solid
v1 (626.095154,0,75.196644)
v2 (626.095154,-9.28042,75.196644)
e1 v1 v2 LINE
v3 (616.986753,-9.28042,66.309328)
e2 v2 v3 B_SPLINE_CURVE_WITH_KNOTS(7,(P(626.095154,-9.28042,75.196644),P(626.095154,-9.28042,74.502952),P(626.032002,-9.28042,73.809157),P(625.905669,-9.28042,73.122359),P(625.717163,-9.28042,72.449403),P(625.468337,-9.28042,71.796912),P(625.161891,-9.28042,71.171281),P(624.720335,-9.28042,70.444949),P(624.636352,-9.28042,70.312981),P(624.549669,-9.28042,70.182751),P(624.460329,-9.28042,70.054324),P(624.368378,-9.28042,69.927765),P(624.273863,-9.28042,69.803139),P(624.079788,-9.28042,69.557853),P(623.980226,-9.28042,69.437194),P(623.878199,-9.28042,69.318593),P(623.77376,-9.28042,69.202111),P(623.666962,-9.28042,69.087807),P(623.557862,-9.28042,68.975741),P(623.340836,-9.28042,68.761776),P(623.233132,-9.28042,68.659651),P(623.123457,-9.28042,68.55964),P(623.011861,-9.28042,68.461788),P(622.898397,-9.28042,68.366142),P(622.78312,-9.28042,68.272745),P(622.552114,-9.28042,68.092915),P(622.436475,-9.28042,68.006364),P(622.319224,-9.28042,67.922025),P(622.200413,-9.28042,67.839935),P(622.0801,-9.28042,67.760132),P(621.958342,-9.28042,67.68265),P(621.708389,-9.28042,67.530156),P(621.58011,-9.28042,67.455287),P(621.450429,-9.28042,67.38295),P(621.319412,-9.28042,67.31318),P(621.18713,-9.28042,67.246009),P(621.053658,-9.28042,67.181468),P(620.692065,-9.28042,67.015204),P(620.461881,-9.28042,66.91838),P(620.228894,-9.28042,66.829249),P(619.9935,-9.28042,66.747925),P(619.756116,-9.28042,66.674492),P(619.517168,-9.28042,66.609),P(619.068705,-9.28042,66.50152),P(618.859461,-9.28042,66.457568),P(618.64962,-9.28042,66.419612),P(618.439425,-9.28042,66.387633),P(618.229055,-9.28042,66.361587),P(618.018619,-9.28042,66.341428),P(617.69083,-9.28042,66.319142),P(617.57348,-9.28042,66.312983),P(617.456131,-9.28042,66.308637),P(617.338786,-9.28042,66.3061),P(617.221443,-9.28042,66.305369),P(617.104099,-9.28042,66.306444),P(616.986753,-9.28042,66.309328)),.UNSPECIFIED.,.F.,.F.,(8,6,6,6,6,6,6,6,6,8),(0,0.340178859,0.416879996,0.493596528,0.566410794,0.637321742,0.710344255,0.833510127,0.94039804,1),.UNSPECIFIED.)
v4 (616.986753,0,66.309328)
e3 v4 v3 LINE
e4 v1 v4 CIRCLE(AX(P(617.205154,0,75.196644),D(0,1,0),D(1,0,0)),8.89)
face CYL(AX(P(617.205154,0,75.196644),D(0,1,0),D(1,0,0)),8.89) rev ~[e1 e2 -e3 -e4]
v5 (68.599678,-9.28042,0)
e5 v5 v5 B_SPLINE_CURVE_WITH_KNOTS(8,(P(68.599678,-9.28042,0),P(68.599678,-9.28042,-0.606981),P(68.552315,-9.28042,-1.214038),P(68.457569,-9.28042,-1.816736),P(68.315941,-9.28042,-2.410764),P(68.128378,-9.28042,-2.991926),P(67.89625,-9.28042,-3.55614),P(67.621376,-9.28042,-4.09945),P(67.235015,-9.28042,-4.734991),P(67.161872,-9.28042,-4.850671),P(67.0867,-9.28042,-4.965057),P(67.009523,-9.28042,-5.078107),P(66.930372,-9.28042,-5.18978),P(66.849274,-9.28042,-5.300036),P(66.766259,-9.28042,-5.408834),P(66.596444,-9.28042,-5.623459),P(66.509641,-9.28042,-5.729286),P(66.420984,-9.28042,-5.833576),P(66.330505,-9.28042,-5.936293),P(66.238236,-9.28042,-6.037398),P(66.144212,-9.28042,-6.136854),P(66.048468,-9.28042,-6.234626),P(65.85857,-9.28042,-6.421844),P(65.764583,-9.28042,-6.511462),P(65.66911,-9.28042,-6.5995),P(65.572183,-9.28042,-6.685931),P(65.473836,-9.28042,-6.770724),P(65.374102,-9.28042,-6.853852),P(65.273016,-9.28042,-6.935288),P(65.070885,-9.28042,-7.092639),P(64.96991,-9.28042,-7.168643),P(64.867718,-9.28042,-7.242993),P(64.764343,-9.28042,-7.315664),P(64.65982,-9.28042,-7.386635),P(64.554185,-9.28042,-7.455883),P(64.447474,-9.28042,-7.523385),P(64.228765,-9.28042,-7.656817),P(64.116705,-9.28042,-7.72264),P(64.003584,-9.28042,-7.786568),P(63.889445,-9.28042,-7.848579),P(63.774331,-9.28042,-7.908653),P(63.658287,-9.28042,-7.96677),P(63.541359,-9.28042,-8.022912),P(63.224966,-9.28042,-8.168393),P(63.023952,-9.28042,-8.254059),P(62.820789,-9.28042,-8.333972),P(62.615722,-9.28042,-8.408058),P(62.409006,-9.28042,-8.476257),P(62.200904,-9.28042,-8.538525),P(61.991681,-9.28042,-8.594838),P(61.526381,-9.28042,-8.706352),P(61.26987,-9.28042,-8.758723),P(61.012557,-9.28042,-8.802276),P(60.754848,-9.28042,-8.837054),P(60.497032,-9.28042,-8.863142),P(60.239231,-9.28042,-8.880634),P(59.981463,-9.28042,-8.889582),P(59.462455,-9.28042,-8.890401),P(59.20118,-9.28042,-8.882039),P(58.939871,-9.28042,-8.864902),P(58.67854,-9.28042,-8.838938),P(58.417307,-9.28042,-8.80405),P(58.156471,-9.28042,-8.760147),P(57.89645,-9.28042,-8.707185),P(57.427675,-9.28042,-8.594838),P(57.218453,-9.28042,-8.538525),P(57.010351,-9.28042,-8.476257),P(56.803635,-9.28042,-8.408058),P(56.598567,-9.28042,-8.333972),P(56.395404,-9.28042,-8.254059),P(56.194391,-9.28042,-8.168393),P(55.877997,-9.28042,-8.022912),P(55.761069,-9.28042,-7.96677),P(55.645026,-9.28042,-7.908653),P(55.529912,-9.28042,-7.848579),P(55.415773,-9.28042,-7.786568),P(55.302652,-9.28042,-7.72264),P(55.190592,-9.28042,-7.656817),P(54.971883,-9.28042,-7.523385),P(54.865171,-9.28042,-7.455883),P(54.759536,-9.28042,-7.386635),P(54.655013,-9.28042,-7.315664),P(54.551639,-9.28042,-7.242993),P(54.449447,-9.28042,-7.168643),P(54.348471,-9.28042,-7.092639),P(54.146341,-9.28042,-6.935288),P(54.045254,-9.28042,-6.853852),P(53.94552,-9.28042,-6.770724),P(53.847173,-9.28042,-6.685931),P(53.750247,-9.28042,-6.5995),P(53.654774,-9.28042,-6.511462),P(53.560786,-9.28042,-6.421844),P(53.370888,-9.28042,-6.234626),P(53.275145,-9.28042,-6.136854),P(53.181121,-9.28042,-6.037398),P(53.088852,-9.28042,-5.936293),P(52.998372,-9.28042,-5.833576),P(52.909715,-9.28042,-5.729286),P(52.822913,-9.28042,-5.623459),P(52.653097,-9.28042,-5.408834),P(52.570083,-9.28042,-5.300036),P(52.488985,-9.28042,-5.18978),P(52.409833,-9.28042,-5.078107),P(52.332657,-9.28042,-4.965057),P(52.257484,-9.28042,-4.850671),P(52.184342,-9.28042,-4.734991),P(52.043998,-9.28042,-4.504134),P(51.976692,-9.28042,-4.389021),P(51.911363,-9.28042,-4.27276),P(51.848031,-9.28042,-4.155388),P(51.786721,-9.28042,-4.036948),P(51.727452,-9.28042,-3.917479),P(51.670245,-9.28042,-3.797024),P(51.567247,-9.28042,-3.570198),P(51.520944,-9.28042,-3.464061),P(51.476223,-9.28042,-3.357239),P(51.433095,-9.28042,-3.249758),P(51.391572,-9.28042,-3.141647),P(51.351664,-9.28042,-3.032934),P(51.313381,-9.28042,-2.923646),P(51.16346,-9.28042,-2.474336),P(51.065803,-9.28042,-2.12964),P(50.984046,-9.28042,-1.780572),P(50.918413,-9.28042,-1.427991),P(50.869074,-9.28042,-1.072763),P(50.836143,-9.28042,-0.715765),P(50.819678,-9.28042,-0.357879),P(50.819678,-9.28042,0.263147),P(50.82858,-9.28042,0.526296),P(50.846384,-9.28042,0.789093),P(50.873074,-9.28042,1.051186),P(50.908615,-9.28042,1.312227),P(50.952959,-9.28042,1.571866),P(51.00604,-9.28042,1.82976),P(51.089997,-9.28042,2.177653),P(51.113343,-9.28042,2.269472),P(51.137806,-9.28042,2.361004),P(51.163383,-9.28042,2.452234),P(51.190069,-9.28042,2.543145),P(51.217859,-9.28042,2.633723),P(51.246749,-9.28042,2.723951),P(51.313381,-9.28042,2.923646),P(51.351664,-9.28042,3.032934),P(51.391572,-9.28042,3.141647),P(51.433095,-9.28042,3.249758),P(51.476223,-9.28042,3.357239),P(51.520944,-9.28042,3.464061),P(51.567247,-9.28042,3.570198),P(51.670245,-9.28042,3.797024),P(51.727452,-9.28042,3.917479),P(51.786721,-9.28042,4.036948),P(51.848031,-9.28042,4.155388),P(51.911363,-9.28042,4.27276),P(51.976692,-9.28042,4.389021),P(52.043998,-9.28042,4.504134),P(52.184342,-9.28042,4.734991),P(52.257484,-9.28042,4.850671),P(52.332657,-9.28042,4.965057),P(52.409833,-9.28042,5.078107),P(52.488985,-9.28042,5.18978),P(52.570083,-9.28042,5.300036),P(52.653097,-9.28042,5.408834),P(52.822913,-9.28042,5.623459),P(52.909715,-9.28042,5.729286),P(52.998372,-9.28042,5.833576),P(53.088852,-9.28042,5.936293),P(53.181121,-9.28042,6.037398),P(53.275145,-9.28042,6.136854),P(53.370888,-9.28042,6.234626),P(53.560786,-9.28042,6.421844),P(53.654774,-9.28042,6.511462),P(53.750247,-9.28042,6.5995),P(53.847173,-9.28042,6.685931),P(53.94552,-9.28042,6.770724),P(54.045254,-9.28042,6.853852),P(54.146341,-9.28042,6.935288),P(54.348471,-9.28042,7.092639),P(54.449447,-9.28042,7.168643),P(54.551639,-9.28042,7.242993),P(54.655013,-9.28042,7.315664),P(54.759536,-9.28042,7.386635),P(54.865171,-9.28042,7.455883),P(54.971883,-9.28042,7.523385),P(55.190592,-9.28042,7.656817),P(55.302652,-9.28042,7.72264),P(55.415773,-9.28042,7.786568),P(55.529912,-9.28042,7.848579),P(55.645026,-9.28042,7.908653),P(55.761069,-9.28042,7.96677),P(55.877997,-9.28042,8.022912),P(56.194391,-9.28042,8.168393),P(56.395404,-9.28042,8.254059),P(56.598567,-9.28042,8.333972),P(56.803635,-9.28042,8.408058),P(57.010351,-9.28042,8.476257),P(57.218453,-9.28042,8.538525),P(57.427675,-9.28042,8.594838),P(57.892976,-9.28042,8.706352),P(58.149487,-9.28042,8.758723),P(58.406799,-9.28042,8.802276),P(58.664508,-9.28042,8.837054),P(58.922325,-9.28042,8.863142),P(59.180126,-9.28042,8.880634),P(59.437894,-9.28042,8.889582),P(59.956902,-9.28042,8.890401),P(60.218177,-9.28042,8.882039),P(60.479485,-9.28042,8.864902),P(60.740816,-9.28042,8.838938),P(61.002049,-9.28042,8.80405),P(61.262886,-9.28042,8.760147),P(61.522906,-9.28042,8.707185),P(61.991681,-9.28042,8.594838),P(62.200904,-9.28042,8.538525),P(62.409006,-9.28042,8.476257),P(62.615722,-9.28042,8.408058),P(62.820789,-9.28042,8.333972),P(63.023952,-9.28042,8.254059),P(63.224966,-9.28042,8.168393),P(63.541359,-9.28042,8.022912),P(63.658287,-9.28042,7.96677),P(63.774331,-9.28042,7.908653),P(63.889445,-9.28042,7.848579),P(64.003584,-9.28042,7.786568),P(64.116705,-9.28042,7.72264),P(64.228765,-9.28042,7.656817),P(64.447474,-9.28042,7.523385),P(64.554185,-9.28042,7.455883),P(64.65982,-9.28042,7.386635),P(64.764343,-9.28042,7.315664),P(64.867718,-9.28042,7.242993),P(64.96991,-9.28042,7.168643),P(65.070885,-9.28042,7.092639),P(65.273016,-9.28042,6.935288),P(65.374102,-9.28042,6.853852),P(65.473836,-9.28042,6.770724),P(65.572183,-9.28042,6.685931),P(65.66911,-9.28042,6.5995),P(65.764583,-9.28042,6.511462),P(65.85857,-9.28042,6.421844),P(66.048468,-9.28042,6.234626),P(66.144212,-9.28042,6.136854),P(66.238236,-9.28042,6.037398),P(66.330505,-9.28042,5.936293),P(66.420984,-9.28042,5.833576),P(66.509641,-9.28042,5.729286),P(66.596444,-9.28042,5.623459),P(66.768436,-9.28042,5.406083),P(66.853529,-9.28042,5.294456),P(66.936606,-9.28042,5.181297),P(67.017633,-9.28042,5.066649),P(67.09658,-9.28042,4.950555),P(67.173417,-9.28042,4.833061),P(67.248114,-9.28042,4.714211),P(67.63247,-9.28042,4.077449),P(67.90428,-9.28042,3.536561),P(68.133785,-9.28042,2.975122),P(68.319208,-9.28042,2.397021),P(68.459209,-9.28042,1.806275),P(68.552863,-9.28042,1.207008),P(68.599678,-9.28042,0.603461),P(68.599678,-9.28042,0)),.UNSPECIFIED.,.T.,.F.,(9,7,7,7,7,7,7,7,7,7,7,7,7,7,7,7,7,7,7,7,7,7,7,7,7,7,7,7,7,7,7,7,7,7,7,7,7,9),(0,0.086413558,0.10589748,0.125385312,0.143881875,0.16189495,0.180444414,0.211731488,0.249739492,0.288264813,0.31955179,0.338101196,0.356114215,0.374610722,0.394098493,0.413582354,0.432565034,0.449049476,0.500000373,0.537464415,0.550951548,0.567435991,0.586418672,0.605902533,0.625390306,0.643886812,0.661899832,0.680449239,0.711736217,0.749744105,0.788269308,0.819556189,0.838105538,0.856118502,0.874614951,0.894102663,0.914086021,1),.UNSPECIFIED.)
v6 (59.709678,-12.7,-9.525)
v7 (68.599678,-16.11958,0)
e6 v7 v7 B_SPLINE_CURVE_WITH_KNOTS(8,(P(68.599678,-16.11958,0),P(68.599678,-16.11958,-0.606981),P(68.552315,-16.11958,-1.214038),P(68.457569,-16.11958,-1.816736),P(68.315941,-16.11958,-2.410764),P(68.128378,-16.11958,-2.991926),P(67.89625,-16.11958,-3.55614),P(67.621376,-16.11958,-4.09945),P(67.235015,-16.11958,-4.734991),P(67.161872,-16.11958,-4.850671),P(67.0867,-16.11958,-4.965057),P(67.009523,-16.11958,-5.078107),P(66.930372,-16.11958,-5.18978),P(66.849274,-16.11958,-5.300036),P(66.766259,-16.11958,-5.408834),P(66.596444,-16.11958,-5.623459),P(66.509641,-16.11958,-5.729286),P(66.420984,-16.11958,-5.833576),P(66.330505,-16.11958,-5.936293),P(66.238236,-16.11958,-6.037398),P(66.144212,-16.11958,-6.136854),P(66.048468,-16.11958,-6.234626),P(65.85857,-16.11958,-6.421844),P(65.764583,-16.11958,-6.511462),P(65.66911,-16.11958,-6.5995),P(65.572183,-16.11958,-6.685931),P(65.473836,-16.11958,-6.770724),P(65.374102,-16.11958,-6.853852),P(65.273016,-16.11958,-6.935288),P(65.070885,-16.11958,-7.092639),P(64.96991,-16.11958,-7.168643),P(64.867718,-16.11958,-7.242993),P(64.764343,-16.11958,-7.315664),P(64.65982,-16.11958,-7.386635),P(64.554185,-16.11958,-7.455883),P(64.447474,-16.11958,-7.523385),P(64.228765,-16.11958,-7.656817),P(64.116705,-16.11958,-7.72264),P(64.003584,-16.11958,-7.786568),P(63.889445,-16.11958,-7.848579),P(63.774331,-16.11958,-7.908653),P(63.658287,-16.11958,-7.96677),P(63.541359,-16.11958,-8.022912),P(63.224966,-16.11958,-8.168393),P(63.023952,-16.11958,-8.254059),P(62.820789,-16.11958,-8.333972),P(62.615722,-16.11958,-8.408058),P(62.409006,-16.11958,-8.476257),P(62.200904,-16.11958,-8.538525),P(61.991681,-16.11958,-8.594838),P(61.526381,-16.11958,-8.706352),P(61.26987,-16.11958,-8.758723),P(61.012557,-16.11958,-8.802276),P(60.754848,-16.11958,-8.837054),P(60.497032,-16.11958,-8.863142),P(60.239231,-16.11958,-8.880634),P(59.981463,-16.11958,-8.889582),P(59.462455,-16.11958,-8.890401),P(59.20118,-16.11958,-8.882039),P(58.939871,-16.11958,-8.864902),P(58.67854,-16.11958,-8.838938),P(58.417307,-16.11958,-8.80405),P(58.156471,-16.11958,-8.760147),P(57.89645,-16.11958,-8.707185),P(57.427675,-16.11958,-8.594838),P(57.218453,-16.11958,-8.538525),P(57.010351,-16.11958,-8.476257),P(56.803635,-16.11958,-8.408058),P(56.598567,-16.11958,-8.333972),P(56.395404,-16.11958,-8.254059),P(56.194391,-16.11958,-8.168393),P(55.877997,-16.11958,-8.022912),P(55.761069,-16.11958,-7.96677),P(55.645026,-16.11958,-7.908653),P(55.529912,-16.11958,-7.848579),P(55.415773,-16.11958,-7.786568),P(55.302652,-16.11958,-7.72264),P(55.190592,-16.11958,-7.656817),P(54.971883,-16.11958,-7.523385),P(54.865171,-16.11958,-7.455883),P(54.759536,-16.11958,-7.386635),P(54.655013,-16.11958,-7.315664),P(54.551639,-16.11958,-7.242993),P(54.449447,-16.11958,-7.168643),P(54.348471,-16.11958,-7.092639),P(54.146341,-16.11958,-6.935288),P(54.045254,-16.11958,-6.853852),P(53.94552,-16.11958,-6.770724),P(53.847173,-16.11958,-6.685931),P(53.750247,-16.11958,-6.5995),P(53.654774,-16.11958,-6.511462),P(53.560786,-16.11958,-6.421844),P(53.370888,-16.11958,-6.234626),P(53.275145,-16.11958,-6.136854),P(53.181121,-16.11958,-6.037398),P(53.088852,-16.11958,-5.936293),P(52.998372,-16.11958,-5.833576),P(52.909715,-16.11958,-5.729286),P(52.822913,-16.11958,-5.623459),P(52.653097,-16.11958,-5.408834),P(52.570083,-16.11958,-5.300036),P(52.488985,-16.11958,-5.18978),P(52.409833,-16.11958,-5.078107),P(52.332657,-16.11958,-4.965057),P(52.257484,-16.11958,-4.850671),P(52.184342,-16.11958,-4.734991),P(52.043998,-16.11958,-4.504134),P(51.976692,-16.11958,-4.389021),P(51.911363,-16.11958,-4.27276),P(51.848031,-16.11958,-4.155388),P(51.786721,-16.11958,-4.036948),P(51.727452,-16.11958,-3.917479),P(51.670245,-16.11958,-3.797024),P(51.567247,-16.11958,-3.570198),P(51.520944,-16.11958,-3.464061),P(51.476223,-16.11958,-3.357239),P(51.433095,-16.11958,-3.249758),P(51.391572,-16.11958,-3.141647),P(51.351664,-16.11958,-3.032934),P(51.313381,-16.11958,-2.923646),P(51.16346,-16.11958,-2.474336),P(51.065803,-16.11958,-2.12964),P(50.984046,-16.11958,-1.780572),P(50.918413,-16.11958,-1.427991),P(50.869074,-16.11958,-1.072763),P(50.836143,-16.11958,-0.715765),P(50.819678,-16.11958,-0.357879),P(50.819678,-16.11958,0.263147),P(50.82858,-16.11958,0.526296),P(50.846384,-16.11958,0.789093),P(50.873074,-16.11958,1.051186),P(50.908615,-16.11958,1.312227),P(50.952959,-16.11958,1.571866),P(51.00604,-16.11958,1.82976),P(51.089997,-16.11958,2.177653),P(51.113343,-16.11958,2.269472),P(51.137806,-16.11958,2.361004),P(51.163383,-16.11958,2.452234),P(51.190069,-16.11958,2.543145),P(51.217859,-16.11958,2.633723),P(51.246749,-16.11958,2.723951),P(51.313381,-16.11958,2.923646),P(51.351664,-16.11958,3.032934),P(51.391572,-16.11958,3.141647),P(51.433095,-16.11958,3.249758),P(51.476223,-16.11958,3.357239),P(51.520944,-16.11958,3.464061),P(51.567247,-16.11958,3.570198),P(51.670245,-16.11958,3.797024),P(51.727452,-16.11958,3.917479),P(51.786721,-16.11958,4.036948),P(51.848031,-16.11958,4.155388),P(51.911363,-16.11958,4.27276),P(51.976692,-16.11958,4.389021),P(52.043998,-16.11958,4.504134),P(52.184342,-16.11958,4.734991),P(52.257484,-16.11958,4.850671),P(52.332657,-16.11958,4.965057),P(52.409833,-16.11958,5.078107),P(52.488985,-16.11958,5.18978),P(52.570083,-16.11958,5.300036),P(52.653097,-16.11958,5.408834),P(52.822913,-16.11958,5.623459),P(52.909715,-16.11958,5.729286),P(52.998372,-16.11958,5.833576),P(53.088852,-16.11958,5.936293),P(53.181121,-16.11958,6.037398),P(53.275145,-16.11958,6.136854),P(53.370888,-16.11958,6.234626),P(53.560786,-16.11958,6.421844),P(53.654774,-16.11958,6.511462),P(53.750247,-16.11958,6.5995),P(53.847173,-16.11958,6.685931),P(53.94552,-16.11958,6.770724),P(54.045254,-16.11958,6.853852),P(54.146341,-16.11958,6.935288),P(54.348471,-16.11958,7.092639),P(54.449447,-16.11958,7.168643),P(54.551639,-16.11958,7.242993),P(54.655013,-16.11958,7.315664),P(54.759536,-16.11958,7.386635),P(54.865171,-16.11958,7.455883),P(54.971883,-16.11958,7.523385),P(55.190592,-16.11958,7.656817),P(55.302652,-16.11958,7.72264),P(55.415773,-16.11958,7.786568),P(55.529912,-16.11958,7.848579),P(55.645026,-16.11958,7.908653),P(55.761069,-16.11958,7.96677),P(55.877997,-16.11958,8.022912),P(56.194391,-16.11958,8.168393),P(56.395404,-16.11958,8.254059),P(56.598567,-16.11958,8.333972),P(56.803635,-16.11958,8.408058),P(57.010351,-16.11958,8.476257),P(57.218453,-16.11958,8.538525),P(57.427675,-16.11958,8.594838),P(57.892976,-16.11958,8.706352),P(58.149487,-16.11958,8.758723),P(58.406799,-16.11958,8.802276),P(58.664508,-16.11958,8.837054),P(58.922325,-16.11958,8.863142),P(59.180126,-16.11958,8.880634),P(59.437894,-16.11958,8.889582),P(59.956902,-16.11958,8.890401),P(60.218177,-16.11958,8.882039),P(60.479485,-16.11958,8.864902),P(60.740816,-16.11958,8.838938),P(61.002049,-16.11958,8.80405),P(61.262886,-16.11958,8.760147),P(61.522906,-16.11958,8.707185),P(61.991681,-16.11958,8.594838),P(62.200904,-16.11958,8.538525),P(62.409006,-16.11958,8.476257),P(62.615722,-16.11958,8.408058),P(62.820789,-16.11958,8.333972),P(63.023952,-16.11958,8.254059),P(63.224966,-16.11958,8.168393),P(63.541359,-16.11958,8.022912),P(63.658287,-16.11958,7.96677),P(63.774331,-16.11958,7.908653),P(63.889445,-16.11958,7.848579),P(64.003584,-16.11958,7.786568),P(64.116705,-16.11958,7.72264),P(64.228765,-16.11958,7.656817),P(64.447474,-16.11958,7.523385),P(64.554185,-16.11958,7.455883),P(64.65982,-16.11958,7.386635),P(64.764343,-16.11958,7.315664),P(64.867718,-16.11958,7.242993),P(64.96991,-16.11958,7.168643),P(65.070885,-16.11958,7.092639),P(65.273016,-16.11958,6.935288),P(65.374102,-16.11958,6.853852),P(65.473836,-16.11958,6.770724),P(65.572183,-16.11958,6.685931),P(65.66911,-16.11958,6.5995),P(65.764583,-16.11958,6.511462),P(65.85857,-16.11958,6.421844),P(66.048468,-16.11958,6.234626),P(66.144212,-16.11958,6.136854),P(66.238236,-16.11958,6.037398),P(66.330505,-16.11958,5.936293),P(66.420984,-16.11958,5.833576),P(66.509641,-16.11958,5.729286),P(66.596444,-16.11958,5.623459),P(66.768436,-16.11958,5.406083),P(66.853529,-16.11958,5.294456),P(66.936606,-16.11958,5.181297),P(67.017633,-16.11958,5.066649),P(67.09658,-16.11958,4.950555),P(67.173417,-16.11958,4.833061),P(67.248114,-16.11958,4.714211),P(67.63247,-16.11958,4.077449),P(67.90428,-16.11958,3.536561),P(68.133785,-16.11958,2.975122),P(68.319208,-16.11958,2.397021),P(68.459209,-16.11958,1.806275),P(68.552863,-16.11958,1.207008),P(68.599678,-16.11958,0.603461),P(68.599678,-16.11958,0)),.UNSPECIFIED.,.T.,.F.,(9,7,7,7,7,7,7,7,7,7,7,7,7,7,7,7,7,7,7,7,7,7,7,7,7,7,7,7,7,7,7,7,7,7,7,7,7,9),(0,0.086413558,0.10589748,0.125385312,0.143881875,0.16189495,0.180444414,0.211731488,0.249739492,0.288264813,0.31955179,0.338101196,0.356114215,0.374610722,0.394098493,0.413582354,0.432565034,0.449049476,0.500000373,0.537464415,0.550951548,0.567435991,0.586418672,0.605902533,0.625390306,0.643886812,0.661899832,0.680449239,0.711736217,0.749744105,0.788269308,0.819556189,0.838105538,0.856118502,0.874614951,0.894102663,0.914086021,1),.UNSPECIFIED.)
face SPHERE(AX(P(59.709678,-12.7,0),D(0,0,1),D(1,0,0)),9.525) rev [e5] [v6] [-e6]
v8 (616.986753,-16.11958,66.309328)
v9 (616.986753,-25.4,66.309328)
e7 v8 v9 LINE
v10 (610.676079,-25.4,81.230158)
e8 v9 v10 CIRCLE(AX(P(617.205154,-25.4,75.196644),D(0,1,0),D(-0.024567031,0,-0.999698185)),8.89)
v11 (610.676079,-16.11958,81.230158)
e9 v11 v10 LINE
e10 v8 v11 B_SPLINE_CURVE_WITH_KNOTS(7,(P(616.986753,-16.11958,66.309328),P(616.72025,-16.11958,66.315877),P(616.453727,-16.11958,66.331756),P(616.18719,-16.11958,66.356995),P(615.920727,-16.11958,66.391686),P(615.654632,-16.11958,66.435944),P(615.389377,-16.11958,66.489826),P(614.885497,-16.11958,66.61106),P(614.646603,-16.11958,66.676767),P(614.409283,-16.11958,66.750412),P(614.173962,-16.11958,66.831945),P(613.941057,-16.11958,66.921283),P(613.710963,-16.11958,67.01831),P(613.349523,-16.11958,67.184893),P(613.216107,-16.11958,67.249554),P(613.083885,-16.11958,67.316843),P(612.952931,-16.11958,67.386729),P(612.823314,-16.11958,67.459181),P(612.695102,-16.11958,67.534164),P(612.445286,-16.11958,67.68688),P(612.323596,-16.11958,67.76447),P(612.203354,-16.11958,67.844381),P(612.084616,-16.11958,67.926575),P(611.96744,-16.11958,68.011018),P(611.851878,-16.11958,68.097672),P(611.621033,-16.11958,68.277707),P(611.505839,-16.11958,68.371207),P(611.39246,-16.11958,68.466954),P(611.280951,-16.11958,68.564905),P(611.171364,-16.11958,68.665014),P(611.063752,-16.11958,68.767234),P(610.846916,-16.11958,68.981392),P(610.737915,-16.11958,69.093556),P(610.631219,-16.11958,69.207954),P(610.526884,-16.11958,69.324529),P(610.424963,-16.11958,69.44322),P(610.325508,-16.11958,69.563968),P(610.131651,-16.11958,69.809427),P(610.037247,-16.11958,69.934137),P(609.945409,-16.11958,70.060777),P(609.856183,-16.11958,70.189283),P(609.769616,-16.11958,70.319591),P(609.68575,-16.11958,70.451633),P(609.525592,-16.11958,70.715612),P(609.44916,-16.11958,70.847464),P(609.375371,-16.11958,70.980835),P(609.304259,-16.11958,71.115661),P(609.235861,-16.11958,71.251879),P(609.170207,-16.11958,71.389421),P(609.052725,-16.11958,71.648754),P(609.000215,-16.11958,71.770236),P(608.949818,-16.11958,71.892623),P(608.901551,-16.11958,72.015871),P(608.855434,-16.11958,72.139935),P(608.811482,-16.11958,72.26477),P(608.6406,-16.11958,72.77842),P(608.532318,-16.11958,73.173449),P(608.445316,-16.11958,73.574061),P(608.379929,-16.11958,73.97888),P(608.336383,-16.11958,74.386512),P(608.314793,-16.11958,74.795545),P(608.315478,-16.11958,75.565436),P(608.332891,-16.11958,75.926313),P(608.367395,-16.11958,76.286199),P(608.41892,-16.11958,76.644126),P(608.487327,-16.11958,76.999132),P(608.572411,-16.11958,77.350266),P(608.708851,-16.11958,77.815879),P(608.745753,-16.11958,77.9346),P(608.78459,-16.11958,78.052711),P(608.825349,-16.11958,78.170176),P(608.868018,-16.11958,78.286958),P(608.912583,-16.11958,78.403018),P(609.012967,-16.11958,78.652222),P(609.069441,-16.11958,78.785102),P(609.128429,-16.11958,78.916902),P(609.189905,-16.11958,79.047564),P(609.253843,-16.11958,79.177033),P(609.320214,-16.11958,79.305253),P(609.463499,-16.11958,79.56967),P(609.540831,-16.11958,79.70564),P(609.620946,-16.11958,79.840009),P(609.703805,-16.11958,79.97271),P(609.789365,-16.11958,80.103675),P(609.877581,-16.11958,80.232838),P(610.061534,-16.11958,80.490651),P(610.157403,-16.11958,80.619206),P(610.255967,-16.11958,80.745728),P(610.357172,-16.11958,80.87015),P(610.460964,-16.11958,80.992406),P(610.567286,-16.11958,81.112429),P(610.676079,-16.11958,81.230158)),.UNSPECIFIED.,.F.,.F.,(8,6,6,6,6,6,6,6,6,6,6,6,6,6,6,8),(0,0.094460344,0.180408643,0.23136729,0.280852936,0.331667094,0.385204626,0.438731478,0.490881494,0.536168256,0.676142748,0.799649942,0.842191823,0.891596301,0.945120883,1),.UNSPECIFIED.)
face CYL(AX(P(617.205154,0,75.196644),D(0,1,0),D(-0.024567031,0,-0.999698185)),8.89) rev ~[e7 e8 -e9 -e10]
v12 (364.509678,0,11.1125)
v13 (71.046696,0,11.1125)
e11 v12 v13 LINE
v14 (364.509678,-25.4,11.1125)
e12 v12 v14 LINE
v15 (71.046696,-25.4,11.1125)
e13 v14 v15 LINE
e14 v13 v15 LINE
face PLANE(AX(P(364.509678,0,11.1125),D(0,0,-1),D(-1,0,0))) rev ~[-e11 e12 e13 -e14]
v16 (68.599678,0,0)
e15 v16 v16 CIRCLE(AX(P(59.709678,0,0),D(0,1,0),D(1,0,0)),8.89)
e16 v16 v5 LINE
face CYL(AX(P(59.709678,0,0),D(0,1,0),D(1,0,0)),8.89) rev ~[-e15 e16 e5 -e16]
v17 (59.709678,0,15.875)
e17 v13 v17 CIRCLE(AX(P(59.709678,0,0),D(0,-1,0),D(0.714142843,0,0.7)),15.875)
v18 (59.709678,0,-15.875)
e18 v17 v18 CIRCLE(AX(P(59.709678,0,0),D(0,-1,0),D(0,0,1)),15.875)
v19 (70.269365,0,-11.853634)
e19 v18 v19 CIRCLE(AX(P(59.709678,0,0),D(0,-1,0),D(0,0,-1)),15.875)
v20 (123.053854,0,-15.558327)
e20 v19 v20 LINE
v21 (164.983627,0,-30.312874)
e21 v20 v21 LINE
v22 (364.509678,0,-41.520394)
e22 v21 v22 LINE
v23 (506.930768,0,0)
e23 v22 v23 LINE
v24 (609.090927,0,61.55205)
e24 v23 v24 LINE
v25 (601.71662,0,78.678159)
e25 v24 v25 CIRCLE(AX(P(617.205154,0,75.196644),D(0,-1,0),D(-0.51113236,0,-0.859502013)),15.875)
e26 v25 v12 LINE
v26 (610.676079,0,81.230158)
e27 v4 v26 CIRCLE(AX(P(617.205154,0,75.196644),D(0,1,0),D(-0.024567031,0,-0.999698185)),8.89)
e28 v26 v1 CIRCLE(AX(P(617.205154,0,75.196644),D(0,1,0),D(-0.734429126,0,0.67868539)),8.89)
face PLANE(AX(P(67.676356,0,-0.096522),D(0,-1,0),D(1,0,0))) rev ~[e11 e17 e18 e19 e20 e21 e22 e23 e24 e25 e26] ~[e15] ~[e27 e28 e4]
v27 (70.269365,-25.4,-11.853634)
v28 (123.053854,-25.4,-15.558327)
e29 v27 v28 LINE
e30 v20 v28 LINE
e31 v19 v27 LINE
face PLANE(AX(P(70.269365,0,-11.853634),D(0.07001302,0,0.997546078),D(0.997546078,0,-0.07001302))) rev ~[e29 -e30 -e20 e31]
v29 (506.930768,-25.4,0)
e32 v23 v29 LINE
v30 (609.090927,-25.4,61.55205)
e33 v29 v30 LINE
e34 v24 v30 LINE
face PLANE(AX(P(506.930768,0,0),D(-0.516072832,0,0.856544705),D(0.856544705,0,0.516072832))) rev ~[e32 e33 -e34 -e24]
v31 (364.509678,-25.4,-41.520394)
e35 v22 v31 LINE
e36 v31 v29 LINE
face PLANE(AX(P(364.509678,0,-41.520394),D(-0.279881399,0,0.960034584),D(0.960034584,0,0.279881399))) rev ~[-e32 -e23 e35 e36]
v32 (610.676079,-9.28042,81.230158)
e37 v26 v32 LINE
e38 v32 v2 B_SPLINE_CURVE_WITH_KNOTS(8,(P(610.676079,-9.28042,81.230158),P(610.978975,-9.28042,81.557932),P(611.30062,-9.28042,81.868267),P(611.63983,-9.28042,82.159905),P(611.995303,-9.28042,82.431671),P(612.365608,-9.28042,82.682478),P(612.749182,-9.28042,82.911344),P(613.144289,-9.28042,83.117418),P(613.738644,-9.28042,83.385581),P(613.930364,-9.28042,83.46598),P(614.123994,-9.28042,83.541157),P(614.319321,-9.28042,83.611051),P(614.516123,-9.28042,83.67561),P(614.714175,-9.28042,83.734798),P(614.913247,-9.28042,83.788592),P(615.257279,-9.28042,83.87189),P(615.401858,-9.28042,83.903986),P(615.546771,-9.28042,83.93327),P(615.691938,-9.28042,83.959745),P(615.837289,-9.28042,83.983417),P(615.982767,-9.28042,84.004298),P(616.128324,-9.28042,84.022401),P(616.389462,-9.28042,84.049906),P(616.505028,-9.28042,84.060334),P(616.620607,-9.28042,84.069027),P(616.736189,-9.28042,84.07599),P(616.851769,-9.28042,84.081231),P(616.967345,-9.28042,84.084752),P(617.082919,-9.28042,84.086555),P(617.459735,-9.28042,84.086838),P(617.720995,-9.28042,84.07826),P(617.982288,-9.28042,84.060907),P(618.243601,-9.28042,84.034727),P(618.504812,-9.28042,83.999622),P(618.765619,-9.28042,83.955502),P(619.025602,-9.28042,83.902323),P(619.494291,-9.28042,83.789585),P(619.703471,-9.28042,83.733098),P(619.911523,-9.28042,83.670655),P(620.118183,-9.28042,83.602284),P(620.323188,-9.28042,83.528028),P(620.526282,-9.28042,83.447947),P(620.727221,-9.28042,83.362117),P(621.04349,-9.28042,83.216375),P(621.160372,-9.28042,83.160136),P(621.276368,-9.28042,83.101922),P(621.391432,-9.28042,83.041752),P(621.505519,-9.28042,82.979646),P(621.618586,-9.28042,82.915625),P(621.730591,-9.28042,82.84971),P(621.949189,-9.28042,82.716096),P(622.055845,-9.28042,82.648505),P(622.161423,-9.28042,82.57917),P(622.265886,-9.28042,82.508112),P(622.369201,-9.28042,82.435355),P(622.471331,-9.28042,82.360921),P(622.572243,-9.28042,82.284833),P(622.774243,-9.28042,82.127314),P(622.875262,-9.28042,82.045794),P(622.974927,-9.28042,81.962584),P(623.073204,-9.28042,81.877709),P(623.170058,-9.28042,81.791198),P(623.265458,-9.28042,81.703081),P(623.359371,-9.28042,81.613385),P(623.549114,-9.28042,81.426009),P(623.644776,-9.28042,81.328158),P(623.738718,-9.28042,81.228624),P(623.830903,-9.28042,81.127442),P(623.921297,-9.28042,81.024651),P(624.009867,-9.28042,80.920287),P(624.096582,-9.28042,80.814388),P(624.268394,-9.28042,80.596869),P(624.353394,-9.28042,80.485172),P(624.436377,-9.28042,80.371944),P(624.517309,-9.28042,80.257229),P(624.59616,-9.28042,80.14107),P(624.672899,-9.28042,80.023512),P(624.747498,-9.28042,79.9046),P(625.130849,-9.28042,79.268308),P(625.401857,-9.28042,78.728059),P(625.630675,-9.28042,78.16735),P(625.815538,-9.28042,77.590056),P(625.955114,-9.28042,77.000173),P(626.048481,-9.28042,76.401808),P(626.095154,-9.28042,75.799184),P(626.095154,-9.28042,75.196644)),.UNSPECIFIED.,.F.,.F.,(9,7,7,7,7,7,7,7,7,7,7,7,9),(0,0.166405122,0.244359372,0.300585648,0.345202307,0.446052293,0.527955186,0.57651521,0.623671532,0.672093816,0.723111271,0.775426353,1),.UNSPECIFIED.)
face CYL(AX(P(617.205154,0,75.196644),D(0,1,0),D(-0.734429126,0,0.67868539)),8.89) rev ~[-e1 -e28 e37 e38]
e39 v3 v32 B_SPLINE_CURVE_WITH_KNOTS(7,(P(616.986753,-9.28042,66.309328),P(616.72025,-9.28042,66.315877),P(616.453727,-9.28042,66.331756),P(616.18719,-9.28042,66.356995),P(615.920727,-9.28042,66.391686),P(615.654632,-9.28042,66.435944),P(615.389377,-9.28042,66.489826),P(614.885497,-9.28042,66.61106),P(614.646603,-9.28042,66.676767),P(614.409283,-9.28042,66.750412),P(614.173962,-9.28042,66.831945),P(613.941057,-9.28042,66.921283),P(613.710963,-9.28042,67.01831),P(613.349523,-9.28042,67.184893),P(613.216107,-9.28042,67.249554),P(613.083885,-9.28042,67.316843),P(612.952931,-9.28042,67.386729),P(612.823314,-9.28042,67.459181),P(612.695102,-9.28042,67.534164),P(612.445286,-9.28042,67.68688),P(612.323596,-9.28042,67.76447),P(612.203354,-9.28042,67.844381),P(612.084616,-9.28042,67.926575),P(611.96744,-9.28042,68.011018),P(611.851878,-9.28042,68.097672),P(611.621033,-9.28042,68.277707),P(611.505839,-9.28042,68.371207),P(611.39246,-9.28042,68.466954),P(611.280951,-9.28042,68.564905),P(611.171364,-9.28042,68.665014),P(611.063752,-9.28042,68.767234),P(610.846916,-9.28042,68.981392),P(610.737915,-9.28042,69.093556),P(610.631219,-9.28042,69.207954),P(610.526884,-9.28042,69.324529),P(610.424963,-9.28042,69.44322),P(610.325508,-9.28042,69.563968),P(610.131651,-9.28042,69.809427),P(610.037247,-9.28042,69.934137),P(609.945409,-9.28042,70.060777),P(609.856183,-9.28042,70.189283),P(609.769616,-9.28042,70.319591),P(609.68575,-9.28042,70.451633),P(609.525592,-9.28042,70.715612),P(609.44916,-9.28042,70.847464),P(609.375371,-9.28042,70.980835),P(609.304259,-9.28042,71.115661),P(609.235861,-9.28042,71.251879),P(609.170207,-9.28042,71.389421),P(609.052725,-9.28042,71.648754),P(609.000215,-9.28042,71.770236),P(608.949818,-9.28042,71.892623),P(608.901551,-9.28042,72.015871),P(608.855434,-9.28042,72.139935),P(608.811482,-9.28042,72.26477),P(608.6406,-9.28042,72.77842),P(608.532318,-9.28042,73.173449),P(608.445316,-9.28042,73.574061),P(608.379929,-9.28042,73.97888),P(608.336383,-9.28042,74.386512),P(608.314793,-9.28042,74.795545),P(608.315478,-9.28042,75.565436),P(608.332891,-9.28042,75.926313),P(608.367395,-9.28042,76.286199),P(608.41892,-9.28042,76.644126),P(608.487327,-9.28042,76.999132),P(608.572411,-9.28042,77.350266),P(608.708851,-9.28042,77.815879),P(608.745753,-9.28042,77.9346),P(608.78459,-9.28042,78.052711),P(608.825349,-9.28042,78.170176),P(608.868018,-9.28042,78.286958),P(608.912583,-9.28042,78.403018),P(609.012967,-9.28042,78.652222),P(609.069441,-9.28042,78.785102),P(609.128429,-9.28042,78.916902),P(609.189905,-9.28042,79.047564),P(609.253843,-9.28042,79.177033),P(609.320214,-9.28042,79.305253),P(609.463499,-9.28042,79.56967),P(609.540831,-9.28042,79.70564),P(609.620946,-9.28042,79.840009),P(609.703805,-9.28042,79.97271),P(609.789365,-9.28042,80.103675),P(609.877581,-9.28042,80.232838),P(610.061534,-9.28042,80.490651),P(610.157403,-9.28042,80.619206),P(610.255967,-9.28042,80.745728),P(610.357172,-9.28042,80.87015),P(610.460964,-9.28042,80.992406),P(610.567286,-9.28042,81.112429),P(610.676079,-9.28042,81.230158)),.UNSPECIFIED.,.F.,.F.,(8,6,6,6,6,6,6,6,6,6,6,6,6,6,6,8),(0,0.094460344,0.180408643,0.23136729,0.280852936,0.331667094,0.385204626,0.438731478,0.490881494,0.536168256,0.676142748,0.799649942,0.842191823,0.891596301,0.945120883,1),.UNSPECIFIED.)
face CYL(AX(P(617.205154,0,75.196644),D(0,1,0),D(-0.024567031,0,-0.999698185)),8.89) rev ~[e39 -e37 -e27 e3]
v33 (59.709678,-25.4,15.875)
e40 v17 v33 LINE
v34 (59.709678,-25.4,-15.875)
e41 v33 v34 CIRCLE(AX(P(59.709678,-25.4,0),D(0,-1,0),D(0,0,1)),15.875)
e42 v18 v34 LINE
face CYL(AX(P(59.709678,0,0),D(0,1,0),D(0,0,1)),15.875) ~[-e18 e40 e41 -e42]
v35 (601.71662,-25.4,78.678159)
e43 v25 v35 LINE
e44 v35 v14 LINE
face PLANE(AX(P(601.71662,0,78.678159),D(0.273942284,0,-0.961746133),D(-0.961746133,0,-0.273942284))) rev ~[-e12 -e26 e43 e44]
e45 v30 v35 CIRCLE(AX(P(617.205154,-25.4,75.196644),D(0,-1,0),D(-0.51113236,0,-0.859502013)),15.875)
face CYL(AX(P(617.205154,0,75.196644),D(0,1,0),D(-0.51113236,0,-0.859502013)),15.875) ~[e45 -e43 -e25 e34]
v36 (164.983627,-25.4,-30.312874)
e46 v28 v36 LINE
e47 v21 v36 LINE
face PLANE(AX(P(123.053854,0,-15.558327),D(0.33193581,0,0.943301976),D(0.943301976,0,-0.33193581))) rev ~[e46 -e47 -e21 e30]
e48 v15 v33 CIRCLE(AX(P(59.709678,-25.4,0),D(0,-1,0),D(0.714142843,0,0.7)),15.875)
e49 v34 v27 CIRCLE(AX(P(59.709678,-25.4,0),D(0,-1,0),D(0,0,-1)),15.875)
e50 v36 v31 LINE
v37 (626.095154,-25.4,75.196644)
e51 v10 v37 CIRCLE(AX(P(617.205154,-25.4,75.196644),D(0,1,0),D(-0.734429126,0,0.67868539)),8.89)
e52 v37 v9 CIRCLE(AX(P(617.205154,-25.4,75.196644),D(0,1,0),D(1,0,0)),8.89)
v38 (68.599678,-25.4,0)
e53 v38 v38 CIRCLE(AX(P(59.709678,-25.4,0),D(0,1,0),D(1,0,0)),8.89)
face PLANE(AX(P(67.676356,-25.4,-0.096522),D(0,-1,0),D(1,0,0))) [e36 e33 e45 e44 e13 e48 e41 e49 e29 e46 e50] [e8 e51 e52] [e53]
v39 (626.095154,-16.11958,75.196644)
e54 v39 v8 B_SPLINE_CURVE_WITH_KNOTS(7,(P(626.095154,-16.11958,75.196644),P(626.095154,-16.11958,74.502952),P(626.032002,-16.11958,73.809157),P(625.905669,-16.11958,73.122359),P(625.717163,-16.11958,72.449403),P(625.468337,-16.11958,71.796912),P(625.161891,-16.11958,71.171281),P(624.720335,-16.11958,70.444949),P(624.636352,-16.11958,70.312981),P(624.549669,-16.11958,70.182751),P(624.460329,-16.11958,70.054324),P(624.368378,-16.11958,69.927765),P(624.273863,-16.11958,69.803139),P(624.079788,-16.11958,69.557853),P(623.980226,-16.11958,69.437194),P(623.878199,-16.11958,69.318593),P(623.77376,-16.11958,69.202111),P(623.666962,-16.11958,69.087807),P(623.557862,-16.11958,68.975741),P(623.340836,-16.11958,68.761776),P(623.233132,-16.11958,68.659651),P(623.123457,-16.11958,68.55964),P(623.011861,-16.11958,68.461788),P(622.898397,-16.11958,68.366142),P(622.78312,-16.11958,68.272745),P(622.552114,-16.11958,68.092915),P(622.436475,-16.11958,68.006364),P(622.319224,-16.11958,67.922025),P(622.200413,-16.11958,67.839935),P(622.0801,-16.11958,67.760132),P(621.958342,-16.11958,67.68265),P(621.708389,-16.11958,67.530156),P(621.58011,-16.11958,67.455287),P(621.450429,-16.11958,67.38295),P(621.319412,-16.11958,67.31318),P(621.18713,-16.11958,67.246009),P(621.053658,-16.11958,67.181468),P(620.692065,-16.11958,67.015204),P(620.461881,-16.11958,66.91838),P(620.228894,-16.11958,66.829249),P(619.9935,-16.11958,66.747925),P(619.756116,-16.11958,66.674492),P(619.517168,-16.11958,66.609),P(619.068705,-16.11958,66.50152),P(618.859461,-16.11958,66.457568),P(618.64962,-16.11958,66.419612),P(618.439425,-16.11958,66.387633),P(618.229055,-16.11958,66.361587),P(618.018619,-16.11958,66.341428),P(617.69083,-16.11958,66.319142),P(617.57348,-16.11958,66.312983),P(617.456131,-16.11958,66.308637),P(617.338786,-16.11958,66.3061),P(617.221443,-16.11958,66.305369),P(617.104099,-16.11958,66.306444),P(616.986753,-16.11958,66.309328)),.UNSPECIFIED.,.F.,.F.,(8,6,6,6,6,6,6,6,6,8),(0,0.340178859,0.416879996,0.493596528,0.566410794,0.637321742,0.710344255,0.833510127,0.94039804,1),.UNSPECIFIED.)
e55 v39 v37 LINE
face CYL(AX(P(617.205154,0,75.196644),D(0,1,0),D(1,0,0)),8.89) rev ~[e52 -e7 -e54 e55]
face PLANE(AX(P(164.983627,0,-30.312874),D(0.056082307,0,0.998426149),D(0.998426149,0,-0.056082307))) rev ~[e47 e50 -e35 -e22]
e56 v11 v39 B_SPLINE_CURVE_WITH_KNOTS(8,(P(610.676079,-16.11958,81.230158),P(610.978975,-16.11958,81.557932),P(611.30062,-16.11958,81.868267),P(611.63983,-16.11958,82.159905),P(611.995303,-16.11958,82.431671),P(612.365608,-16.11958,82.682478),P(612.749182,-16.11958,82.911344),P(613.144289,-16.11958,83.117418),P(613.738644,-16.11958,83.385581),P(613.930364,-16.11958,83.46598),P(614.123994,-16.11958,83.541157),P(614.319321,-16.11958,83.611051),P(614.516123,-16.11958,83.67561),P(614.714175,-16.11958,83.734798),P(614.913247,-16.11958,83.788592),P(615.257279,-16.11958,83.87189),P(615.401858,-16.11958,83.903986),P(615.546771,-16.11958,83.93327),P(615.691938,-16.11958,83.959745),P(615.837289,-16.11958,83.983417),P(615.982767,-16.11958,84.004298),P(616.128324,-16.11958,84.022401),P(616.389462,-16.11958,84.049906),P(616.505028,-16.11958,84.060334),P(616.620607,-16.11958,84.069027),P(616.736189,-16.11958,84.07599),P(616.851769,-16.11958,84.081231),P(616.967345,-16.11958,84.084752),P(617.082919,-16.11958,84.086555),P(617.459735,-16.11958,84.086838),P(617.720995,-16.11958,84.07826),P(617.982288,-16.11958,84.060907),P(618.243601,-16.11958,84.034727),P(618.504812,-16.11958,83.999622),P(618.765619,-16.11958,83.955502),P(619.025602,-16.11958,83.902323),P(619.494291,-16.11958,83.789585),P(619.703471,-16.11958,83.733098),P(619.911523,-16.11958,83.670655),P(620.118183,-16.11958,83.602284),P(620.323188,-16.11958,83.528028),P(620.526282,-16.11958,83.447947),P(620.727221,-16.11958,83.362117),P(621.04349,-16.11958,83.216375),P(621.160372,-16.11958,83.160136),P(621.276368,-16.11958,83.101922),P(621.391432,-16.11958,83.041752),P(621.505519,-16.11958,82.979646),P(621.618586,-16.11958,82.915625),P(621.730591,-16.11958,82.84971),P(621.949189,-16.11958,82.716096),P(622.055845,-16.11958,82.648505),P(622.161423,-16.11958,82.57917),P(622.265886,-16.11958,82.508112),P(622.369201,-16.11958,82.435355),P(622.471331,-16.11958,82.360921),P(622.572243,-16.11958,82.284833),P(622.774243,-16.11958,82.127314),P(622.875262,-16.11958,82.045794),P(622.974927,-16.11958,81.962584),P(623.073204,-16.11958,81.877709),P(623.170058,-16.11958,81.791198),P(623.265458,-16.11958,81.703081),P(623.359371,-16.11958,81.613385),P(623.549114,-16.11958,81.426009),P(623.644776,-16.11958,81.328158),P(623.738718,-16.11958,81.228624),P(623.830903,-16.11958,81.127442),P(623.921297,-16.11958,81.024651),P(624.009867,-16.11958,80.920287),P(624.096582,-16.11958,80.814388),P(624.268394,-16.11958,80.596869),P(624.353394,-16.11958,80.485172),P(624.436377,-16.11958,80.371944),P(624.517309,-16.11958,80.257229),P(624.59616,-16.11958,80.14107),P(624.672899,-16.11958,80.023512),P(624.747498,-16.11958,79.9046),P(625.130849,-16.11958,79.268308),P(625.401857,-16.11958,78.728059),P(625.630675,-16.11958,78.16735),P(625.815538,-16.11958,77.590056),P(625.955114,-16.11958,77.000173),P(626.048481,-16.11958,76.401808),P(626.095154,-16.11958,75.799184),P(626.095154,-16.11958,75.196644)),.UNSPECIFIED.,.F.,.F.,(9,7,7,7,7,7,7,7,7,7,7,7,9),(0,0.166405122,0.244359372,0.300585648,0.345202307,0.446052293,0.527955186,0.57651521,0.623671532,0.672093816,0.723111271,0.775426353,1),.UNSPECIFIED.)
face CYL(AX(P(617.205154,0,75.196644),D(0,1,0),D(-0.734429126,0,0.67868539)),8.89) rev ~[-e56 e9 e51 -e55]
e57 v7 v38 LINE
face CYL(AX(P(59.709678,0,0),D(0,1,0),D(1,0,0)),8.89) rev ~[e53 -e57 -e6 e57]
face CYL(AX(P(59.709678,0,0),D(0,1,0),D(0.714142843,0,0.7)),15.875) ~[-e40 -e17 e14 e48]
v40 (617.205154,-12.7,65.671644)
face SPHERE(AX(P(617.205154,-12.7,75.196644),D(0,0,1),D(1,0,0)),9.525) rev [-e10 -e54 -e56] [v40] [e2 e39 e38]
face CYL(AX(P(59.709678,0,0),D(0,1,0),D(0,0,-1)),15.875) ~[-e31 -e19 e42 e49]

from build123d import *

# Parameters (mm, degrees)
F1_DEPTH = 25.4


with BuildPart() as f1:
    # F0 (on Front) → F1 (new body)
    with BuildSketch(Plane.XZ):
        with BuildLine():
            ThreePointArc((75.5846782372, 0), (74.4064598557, 6.0016860181), (71.0466958676, 11.1125))
            Line((71.0466958676, 11.1125), (59.7096782372, 11.1125))
            Line((59.7096782372, 11.1125), (59.7096782372, 8.89))
            ThreePointArc((59.7096782372, 8.89), (65.995857522, 6.2861792847), (68.5996782372, 0))
            ThreePointArc((68.5996782372, 0), (65.995857522, -6.2861792847), (59.7096782372, -8.89))
            Line((59.7096782372, -8.89), (59.7096782372, -11.1125))
            Line((59.7096782372, -11.1125), (70.2693648091, -11.8536342319))
            ThreePointArc((70.2693648091, -11.8536342319), (74.195026858, -6.4954060948), (75.5846782372, 0))
        make_face()
        with BuildLine():
            ThreePointArc((71.0466958676, 11.1125), (65.8580392994, 14.636026826), (59.7096782372, 15.875))
            Line((59.7096782372, 15.875), (59.7096782372, 11.1125))
            Line((59.7096782372, 11.1125), (71.0466958676, 11.1125))
        make_face()
        with BuildLine():
            Line((59.7096782372, 11.1125), (59.7096782372, 15.875))
            ThreePointArc((59.7096782372, 15.875), (43.8346782372, 0), (59.7096782372, -15.875))
            Line((59.7096782372, -15.875), (59.7096782372, -11.1125))
            Line((59.7096782372, -11.1125), (59.7096782372, -8.89))
            ThreePointArc((59.7096782372, -8.89), (50.8196782372, 0), (59.7096782372, 8.89))
            Line((59.7096782372, 8.89), (59.7096782372, 11.1125))
        make_face()
        with BuildLine():
            Line((59.7096782372, -11.1125), (59.7096782372, -15.875))
            ThreePointArc((59.7096782372, -15.875), (65.3594207786, -14.8356339337), (70.2693648091, -11.8536342319))
            Line((70.2693648091, -11.8536342319), (59.7096782372, -11.1125))
        make_face()
        with BuildLine():
            Line((364.5096782372, 11.1125), (71.0466958676, 11.1125))
            ThreePointArc((71.0466958676, 11.1125), (74.4064598557, 6.0016860181), (75.5846782372, 0))
            ThreePointArc((75.5846782372, 0), (74.195026858, -6.4954060948), (70.2693648091, -11.8536342319))
            Line((70.2693648091, -11.8536342319), (123.0538541683, -15.5583267636))
            Line((123.0538541683, -15.5583267636), (164.9836269965, -30.31287354))
            Line((164.9836269965, -30.31287354), (364.5096782372, -41.5203937454))
            Line((364.5096782372, -41.5203937454), (364.5096782372, 11.1125))
        make_face()
        with BuildLine():
            Line((528.8047229938, 57.9100469965), (364.5096782372, 11.1125))
            Line((364.5096782372, 11.1125), (364.5096782372, -41.5203937454))
            Line((364.5096782372, -41.5203937454), (506.9307684898, 0))
            Line((506.9307684898, 0), (609.0909272925, 61.5520499979))
            ThreePointArc((609.0909272925, 61.5520499979), (602.6243965326, 68.918336487), (601.716619668, 78.6781591222))
            Line((601.716619668, 78.6781591222), (528.8047229938, 57.9100469965))
        make_face()
        with BuildLine():
            Line((610.6760785802, 81.2301575719), (601.716619668, 78.6781591222))
            ThreePointArc((601.716619668, 78.6781591222), (602.6243965326, 68.918336487), (609.0909272925, 61.5520499979))
            Line((609.0909272925, 61.5520499979), (616.9867526025, 66.3093275899))
            ThreePointArc((616.9867526025, 66.3093275899), (609.017363859, 71.7336687669), (610.6760785802, 81.2301575719))
        make_face()
        with BuildLine():
            ThreePointArc((633.0801535113, 75.196644454), (618.956602945, 90.9747321037), (601.716619668, 78.6781591222))
            Line((601.716619668, 78.6781591222), (610.6760785802, 81.2301575719))
            ThreePointArc((610.6760785802, 81.2301575719), (620.4446460535, 83.4753996786), (626.0951535113, 75.196644454))
            ThreePointArc((626.0951535113, 75.196644454), (623.4136362535, 68.8337172943), (616.9867526025, 66.3093275899))
            Line((616.9867526025, 66.3093275899), (609.0909272925, 61.5520499979))
            ThreePointArc((609.0909272925, 61.5520499979), (625.0537930041, 61.3975690099), (633.0801535113, 75.196644454))
        make_face()
    extrude(amount=F1_DEPTH)

    # F3 (on offset) → F4 (revolve, cut)
    with BuildSketch(Plane.XZ.offset(12.7)):
        with BuildLine():
            Line((59.7096782372, 0), (59.7096782372, -9.525))
            ThreePointArc((59.7096782372, -9.525), (69.2346782372, 0), (59.7096782372, 9.525))
            Line((59.7096782372, 9.525), (59.7096782372, 0))
        make_face()
    revolve(axis=Axis((59.7096782372, -12.7, 0), (0, 0, -1)), mode=Mode.SUBTRACT)

    # F3 (on offset) → F5 (revolve, cut)
    with BuildSketch(Plane.XZ.offset(12.7)):
        with BuildLine():
            Line((617.2051535113, 75.196644454), (617.2051535113, 65.671644454))
            ThreePointArc((617.2051535113, 65.671644454), (626.7301535113, 75.196644454), (617.2051535113, 84.721644454))
            Line((617.2051535113, 84.721644454), (617.2051535113, 75.196644454))
        make_face()
    revolve(axis=Axis((617.2051535113, -12.7, 75.196644454), (0, 0, -1)), mode=Mode.SUBTRACT)


solid = f1.part
